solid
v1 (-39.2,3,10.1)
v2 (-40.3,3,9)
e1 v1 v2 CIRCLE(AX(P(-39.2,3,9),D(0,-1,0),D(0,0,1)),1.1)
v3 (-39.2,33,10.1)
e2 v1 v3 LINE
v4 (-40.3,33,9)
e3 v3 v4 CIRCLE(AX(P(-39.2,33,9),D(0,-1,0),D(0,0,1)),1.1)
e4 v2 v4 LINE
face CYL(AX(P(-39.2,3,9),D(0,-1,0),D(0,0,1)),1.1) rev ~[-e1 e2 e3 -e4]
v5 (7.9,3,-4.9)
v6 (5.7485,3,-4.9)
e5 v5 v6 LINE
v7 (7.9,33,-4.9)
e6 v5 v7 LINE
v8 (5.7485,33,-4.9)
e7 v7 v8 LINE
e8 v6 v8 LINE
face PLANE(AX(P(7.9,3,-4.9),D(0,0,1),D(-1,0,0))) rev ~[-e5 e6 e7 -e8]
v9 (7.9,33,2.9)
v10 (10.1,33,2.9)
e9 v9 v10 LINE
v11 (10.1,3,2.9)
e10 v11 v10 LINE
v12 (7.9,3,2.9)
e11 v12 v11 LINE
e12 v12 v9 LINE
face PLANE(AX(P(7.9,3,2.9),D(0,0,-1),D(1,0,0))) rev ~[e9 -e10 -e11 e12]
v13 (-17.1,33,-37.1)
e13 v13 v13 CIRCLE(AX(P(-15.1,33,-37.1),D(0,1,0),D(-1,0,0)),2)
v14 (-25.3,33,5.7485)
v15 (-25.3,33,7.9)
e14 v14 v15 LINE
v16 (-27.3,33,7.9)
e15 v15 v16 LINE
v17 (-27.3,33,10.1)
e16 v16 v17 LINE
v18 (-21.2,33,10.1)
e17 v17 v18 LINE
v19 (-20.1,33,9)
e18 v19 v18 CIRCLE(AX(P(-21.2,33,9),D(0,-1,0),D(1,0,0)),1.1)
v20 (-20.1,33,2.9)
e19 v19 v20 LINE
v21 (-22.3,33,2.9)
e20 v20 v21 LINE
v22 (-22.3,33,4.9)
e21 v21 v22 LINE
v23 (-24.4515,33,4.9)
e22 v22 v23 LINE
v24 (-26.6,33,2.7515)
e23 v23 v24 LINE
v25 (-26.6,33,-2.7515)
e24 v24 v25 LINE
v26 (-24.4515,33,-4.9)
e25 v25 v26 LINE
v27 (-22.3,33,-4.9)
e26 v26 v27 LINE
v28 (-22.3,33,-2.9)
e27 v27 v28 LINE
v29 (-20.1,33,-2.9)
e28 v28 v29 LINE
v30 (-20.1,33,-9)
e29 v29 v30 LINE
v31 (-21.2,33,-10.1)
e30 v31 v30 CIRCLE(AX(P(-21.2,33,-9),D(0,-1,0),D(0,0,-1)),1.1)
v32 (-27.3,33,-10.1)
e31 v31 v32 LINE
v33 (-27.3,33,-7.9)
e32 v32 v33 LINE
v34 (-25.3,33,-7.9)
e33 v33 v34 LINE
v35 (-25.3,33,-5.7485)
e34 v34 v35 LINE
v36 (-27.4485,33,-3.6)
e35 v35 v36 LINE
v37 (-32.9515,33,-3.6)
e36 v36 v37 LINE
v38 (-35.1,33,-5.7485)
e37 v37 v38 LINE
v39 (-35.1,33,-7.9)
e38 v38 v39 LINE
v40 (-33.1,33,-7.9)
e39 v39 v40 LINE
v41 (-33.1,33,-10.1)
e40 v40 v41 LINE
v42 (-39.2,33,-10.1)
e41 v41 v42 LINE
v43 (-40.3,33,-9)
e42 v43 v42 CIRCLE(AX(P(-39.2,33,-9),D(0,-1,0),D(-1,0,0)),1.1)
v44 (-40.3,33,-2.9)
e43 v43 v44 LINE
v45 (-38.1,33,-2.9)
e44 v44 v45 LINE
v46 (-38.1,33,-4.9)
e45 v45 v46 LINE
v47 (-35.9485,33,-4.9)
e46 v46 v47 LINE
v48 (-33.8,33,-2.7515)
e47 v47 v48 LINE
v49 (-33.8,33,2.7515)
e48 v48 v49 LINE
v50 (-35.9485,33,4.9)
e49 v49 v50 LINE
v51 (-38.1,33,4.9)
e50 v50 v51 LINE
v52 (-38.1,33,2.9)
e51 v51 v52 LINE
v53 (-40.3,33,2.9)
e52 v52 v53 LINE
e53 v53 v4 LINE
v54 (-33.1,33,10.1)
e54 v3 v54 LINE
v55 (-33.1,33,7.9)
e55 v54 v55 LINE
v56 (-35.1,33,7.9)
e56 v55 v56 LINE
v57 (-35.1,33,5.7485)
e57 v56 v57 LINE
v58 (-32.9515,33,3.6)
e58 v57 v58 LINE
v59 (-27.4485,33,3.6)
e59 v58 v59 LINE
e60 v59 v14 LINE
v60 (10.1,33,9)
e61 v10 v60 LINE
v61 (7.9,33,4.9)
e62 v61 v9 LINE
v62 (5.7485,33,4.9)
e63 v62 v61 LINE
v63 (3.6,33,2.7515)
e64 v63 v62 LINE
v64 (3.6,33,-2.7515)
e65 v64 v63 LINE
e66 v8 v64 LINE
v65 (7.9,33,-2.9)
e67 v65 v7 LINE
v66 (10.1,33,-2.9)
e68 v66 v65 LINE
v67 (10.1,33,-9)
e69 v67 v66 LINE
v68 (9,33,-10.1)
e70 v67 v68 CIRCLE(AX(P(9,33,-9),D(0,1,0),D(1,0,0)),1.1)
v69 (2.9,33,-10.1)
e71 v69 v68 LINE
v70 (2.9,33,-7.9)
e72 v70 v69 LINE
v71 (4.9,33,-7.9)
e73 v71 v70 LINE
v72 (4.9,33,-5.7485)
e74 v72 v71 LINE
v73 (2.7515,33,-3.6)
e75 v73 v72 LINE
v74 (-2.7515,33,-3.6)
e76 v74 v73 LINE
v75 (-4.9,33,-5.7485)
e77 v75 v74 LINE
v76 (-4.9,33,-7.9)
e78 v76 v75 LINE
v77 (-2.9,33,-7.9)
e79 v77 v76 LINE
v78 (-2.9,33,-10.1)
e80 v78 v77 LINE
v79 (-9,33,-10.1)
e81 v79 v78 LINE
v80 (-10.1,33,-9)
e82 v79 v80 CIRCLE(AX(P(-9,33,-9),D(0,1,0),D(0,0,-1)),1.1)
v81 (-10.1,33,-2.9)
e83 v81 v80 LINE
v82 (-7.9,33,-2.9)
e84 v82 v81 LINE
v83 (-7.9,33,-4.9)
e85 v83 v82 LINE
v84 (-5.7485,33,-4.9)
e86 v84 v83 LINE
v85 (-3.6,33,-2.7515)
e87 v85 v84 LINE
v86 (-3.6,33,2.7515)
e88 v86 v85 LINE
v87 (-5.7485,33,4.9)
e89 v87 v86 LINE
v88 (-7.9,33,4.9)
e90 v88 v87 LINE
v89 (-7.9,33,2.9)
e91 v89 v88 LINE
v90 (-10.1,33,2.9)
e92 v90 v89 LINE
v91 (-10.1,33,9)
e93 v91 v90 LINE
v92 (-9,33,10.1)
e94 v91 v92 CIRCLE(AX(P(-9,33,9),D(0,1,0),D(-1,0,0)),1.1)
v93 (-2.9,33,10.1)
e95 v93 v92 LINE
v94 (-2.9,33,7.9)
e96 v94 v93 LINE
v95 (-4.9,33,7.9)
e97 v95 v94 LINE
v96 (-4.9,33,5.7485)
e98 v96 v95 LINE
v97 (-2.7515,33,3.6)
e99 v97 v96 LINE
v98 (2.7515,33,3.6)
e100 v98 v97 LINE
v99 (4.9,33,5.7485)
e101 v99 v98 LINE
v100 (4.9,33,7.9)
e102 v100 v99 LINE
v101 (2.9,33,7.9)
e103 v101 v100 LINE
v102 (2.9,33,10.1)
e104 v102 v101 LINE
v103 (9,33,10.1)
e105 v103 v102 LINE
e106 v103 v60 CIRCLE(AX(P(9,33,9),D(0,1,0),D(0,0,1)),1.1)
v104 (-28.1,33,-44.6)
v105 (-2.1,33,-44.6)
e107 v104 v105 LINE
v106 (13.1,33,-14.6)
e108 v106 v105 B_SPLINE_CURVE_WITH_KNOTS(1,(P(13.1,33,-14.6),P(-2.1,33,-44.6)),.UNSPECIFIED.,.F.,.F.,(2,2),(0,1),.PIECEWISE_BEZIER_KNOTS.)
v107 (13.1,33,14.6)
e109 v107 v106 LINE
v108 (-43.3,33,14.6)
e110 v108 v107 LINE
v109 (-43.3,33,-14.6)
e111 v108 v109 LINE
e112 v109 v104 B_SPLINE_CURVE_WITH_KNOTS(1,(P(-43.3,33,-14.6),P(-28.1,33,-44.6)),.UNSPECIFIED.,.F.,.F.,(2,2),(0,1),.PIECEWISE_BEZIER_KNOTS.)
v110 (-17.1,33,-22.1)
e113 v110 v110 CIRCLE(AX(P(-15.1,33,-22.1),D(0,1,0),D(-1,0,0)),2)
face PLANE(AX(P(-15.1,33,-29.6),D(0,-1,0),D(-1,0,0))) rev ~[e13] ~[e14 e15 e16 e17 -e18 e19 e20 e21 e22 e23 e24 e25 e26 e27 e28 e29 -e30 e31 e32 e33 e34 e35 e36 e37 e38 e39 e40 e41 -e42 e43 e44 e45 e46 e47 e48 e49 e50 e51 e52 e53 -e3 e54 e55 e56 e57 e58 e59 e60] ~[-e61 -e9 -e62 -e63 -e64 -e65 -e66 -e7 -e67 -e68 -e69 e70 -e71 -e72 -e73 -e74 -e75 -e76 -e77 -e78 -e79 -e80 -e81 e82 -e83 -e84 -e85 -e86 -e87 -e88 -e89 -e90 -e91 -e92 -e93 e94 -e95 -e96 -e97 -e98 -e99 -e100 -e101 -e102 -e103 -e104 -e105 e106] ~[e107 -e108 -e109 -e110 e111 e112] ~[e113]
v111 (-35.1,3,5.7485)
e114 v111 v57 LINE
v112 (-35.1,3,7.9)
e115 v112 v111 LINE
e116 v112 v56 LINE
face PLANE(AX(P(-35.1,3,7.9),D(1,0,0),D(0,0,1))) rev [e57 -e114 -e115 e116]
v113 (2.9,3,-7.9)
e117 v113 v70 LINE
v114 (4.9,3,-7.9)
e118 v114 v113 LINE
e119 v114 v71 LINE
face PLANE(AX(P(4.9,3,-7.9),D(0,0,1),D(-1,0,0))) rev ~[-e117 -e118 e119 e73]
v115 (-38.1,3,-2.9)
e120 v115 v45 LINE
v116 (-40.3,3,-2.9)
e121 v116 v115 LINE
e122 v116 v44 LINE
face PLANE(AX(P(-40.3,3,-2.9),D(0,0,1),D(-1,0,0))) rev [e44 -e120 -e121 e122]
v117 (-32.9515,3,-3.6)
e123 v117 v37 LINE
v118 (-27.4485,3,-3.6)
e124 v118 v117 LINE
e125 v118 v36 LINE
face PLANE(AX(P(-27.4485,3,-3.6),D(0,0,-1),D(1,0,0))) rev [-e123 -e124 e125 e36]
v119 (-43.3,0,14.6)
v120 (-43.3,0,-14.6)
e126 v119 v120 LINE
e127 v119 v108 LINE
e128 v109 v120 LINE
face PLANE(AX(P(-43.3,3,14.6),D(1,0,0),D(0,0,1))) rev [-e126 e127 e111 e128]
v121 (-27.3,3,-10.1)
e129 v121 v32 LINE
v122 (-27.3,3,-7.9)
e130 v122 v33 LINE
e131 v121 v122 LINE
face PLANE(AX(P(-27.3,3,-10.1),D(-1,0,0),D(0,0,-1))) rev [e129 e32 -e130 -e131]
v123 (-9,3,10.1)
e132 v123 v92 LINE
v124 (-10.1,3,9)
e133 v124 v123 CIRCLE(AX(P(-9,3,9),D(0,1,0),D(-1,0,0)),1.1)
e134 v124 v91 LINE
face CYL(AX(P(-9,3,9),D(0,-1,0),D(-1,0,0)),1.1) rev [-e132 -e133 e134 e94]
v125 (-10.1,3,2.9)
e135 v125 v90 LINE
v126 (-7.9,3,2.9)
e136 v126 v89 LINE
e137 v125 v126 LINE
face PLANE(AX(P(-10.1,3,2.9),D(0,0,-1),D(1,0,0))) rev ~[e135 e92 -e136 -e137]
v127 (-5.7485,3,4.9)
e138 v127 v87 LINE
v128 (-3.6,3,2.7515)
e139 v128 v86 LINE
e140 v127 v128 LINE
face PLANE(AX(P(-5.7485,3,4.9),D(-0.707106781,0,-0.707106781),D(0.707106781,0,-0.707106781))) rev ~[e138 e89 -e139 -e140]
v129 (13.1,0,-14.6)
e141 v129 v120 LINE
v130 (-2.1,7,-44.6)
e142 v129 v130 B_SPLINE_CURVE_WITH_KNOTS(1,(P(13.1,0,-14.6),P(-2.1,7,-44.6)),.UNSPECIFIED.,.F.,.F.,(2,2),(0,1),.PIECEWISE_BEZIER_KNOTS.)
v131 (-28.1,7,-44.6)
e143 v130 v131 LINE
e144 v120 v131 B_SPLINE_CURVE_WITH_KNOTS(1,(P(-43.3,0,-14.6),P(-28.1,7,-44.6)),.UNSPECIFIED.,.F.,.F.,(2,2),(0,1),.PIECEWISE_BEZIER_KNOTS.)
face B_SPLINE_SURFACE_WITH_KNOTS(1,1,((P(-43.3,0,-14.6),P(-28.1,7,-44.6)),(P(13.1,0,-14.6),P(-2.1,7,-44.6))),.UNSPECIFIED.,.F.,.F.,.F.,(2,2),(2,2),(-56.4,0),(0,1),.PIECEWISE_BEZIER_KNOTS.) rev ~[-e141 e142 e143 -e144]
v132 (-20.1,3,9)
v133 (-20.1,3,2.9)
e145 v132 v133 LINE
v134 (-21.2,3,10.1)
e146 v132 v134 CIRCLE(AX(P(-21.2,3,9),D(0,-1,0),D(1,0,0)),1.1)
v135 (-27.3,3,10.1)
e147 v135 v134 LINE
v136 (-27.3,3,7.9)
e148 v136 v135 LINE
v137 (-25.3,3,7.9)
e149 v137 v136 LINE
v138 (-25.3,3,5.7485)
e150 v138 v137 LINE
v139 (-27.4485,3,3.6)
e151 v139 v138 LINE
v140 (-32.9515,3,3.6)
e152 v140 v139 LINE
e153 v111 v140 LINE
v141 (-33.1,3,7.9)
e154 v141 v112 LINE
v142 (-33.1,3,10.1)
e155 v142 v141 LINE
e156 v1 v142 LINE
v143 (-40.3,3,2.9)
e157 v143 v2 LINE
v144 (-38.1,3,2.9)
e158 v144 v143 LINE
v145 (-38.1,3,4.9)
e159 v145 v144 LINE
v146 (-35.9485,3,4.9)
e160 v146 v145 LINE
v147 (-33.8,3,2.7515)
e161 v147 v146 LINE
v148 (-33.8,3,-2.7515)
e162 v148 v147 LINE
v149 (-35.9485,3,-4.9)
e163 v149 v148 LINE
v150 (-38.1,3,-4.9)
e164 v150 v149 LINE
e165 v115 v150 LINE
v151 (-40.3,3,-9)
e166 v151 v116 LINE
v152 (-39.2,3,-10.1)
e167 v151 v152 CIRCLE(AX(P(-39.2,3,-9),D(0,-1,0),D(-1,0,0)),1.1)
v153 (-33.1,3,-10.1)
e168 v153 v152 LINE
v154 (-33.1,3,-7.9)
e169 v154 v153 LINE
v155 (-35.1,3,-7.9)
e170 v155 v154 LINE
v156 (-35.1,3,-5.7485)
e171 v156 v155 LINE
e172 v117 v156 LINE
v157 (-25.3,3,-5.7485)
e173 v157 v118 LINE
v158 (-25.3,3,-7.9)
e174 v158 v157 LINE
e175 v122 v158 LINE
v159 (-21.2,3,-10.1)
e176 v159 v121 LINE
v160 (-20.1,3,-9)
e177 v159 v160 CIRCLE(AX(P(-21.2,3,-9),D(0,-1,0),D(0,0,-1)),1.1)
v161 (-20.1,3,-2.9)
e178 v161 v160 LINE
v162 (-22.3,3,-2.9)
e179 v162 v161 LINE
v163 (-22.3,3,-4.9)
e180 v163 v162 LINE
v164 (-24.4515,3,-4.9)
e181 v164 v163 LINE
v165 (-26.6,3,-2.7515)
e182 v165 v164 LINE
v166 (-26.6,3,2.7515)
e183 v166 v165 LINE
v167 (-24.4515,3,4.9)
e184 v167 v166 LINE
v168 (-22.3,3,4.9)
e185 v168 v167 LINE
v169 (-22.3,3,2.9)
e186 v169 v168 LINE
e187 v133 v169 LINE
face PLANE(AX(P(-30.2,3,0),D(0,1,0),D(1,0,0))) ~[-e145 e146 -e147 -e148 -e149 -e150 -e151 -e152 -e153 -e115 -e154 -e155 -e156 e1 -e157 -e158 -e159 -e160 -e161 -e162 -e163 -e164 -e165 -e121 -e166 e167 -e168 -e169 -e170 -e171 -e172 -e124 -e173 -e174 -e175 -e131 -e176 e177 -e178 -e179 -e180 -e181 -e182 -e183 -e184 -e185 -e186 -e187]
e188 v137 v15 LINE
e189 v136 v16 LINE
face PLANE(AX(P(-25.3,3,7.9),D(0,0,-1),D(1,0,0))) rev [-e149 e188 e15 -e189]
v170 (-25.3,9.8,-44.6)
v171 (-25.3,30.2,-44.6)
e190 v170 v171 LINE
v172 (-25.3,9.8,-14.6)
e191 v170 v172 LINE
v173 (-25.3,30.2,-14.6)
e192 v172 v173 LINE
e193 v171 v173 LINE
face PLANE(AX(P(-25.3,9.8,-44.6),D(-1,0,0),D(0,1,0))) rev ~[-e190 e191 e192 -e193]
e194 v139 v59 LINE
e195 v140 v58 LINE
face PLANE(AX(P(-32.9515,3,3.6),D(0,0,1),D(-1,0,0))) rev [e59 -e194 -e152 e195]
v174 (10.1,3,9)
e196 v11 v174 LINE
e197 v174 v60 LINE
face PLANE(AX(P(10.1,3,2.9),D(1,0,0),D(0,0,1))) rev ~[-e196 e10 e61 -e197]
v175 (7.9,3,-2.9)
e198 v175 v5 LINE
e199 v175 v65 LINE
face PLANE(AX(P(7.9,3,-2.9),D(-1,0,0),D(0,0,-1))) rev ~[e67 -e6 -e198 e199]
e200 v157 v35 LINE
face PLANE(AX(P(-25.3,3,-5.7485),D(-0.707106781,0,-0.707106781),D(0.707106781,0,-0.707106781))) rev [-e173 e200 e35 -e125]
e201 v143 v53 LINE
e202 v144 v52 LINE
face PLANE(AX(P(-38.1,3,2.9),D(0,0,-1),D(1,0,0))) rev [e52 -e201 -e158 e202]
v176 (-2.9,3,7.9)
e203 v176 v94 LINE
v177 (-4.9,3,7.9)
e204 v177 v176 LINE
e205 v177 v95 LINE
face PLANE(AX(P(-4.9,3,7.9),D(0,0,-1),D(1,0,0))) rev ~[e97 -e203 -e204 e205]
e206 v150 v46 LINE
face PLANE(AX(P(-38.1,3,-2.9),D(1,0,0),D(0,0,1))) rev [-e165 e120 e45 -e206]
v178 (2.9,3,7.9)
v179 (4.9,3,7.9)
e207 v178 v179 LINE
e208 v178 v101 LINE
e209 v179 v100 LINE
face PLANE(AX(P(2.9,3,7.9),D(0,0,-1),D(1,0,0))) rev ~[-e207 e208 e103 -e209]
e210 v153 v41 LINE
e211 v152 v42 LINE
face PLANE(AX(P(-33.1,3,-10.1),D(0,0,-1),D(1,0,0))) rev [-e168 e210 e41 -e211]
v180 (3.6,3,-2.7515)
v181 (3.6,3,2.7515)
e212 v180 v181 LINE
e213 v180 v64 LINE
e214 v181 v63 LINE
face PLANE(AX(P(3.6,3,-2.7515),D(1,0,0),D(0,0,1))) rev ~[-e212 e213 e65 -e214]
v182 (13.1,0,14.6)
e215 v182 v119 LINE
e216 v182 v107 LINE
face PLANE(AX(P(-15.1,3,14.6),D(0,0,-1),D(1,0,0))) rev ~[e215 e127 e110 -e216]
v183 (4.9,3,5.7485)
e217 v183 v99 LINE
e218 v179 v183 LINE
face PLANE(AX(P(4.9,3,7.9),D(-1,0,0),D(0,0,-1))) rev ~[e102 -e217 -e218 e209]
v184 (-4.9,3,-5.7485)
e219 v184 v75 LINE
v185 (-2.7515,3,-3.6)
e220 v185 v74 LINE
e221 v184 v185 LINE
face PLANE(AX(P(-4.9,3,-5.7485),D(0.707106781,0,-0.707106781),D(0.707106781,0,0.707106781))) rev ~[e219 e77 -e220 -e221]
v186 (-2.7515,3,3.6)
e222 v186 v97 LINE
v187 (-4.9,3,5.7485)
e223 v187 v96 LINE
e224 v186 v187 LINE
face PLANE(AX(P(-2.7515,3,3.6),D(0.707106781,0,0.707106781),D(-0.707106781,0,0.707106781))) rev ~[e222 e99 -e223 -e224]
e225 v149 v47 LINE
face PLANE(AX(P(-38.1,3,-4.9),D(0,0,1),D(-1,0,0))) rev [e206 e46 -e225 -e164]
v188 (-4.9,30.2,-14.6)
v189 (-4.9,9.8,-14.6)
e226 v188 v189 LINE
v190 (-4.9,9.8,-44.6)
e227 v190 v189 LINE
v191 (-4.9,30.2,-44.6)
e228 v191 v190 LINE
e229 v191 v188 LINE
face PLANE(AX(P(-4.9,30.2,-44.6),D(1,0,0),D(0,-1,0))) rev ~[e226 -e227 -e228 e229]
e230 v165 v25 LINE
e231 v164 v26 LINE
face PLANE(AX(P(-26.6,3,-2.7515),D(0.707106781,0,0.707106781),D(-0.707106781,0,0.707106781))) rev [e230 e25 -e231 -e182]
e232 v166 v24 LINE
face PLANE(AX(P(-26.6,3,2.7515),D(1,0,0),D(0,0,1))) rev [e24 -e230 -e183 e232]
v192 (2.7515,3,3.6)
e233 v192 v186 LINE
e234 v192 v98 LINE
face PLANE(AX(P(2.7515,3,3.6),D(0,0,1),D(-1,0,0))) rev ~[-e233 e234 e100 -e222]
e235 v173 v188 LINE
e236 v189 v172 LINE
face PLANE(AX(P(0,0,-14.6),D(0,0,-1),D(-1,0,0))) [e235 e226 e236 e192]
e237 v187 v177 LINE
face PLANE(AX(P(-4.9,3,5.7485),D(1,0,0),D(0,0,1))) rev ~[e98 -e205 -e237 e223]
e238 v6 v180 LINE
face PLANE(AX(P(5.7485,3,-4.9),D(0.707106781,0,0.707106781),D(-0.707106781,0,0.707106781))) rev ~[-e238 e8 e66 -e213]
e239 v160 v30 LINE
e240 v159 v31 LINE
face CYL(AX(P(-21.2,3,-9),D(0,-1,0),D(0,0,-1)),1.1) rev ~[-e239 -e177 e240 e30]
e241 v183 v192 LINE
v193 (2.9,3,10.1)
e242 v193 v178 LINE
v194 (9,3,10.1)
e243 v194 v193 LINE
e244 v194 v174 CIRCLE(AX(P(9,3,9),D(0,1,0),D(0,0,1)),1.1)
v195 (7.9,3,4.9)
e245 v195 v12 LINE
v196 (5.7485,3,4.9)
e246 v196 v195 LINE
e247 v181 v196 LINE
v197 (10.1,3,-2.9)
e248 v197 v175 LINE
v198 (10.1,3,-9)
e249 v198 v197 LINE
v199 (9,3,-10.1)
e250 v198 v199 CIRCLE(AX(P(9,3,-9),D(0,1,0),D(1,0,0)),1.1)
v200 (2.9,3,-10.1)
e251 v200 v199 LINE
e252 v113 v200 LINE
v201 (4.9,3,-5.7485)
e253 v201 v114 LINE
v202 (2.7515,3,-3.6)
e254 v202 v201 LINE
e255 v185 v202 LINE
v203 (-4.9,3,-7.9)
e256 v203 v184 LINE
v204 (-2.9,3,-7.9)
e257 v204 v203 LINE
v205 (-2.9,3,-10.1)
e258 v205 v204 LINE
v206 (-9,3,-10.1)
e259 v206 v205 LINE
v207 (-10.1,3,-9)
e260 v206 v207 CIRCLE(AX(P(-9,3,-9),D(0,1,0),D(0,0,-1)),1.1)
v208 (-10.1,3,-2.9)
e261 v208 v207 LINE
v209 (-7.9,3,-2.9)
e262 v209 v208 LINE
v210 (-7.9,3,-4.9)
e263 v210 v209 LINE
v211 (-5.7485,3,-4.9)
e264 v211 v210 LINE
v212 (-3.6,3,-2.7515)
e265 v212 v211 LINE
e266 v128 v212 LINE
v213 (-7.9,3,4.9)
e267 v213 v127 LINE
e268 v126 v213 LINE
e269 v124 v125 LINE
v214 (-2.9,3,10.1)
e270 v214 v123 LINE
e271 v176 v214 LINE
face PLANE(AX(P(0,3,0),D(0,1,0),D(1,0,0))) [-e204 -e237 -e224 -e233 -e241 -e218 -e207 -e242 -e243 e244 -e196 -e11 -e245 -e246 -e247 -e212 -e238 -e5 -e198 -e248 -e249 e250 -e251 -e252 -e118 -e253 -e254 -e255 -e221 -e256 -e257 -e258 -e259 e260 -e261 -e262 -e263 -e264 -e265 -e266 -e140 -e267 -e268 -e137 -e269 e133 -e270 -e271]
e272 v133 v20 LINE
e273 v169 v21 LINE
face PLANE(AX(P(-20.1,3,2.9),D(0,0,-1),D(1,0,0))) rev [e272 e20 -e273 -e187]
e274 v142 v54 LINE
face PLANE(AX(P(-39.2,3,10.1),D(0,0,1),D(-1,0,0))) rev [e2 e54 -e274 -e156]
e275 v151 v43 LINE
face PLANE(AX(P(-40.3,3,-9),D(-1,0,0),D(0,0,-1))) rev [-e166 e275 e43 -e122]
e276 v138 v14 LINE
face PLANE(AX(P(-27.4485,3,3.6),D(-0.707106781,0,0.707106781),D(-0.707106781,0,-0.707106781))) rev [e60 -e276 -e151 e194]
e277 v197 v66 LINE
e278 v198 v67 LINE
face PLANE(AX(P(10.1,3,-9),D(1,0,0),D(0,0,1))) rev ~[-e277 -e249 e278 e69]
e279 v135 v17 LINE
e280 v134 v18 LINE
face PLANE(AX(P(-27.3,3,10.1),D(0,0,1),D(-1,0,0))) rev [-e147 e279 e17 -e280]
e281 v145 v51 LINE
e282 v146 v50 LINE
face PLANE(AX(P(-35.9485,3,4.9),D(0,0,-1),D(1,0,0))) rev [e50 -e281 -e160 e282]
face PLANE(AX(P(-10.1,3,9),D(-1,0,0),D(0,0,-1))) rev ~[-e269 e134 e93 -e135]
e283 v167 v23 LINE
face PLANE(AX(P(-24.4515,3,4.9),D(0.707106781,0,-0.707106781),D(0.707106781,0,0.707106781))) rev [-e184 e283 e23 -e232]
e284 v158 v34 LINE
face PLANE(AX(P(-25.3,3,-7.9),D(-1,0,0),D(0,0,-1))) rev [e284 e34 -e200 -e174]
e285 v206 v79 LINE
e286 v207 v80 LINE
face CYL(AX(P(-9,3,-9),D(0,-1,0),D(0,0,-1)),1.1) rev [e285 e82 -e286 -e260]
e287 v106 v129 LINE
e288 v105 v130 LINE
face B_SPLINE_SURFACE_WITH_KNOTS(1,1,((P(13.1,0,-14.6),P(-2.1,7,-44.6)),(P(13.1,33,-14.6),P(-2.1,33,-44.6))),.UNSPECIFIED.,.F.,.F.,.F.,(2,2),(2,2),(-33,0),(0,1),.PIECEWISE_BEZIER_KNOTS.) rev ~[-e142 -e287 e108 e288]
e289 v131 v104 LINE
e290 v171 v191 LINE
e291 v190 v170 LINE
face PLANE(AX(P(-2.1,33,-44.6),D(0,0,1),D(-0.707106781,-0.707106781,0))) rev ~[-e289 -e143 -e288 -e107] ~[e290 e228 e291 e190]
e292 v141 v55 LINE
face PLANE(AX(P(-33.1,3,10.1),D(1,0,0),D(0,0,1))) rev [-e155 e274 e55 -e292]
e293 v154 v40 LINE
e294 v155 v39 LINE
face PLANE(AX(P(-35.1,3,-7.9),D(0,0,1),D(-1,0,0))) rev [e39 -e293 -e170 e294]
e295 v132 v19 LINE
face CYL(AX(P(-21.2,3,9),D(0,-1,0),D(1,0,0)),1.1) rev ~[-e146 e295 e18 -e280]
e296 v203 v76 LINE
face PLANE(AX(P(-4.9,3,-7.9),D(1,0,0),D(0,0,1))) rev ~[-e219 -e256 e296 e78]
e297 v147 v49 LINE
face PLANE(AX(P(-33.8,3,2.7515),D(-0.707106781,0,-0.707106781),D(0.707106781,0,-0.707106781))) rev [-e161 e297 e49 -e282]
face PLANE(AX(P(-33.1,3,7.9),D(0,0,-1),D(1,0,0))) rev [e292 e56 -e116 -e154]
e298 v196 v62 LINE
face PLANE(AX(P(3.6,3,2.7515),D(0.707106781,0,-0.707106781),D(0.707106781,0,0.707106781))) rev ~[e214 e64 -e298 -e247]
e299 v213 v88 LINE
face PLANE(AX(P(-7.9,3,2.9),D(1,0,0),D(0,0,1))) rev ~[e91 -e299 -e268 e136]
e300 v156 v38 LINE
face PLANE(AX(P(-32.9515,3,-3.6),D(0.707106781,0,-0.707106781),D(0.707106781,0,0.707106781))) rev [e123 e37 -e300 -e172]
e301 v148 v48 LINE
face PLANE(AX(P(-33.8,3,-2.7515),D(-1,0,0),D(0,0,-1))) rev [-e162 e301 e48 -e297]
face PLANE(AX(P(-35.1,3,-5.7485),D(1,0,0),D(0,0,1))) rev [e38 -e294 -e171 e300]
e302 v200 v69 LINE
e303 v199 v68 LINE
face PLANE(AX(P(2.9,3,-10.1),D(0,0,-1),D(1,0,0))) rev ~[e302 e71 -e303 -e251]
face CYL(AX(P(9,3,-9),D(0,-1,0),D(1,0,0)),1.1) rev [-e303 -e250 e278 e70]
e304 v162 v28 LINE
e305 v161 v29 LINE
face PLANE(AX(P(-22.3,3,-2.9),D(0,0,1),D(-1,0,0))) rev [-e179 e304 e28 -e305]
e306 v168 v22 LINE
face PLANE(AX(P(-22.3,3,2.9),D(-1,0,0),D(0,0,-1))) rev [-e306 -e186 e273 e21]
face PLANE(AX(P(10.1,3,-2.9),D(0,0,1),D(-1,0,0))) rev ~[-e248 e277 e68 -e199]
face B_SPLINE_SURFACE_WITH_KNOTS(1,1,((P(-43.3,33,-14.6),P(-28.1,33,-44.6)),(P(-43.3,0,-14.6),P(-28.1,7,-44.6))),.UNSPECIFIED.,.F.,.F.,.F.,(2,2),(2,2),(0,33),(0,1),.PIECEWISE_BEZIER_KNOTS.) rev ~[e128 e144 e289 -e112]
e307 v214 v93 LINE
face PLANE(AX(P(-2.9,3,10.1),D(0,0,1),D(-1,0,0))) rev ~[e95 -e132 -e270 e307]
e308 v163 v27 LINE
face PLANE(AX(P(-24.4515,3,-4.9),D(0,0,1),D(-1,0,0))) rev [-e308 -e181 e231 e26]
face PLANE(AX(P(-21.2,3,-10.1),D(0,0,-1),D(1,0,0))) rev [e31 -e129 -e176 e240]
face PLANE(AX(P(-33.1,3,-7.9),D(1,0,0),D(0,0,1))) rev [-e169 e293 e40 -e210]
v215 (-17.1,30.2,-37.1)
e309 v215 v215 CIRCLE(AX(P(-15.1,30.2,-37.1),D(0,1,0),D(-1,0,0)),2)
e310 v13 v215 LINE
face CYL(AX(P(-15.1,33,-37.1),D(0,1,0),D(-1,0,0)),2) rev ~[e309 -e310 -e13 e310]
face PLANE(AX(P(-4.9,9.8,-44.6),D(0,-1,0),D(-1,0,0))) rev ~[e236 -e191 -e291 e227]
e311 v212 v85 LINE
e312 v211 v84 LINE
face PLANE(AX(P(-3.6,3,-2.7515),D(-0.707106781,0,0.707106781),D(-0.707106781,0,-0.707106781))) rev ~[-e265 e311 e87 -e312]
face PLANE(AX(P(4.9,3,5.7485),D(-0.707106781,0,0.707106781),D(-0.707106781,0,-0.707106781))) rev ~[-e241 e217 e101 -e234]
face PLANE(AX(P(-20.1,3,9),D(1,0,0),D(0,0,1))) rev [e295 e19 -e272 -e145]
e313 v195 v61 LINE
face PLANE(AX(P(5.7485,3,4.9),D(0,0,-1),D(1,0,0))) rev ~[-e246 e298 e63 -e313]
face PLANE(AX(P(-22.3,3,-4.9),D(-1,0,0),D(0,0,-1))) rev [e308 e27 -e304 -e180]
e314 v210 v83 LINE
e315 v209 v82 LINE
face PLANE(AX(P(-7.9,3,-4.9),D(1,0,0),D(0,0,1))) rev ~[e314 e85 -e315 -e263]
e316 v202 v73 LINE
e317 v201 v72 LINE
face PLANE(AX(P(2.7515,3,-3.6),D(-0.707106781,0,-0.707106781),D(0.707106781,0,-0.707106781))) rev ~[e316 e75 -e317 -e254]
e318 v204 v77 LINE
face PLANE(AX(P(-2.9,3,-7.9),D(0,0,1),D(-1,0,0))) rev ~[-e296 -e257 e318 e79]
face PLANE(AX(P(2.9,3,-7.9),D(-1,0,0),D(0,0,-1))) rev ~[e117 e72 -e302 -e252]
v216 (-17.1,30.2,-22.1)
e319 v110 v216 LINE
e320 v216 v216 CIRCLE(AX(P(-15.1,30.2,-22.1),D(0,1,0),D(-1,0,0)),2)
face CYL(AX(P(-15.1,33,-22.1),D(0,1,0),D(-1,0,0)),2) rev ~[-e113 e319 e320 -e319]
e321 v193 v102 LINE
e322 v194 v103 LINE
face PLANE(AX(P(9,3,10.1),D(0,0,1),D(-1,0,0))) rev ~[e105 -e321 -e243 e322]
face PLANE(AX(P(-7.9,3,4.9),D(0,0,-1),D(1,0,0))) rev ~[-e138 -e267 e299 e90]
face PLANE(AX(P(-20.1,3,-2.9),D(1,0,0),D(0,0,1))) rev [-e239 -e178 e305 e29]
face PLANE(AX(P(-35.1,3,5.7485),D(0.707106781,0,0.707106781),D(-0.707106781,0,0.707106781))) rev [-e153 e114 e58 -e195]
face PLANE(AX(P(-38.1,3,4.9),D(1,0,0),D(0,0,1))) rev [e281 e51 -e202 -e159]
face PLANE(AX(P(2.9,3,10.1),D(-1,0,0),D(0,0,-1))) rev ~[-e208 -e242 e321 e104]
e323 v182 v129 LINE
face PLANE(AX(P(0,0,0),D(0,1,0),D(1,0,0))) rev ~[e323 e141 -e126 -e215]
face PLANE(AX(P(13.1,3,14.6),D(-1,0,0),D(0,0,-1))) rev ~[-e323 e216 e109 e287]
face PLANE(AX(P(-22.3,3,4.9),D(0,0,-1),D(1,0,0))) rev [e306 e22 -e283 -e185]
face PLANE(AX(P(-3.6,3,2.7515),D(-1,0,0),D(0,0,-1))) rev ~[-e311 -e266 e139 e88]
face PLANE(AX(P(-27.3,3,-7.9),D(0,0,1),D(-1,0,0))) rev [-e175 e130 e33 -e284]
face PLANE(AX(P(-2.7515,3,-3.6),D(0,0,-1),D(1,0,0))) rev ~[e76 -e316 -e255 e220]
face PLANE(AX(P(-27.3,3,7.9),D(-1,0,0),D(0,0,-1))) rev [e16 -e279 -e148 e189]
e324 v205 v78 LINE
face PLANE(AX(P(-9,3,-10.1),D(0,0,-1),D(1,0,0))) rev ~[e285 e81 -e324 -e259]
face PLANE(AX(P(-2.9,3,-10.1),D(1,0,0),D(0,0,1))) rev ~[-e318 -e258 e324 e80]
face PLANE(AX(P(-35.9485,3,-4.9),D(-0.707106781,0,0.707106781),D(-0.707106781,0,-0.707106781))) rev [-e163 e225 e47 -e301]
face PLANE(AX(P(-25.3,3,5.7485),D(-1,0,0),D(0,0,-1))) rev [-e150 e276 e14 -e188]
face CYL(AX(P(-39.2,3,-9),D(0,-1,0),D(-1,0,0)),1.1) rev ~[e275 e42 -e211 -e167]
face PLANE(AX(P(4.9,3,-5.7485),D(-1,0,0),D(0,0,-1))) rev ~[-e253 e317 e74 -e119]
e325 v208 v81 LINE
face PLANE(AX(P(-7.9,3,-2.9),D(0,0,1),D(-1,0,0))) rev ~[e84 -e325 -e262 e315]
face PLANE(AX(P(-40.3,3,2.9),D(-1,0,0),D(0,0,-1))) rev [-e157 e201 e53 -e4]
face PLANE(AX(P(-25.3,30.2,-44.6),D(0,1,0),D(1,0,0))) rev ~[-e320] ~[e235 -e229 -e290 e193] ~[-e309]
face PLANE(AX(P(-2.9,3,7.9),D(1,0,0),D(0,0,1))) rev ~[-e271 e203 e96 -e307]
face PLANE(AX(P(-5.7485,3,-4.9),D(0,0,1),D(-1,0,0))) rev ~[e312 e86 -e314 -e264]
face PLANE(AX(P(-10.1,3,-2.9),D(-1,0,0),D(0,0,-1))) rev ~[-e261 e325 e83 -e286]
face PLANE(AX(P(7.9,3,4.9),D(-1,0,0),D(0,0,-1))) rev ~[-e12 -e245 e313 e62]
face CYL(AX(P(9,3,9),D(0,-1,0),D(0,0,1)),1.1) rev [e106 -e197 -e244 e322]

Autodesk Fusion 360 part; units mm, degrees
sketch "Sketch1" plane through (0, 0, 0) normal (0, 1, 0) x (1, 0, 0)
  line L0 (7.9, 2.9) -> (7.9, 4.9)
  line L1 (-2.7515, -3.6) -> (-4.9, -5.7485)
  line L2 (2.9, -7.9) -> (4.9, -7.9)
  line L3 (-2.9, -7.9) -> (-2.9, -10.1)
  arc A0 (-10.1, -9) -> (-9, -10.1) centre (-9, -9) ccw
  line L4 (5.7485, 4.9) -> (3.6, 2.7515)
  line L5 (-7.9, 2.9) -> (-10.1, 2.9)
  line L6 (-4.9, -7.9) -> (-2.9, -7.9)
  line L7 (4.9, 5.7485) -> (4.9, 7.9)
  line L8 (10.1, 2.9) -> (7.9, 2.9)
  line L9 (9, -10.1) -> (2.9, -10.1)
  arc A1 (9, -10.1) -> (10.1, -9) centre (9, -9) ccw
  line L10 (4.9, -5.7485) -> (2.7515, -3.6)
  line L11 (5.7485, -4.9) -> (7.9, -4.9)
  line L12 (-10.1, 2.9) -> (-10.1, 9)
  line L13 (7.9, -2.9) -> (10.1, -2.9)
  line L14 (-3.6, 2.7515) -> (-5.7485, 4.9)
  line L15 (10.1, -2.9) -> (10.1, -9)
  line L16 (-2.9, 10.1) -> (-2.9, 7.9)
  line L17 (7.9, -4.9) -> (7.9, -2.9)
  line L18 (-3.6, -2.7515) -> (-3.6, 2.7515)
  line L19 (3.6, 2.7515) -> (3.6, -2.7515)
  line L20 (2.7515, -3.6) -> (-2.7515, -3.6)
  line L21 (-10.1, -9) -> (-10.1, -2.9)
  line L22 (10.1, 9) -> (10.1, 2.9)
  line L23 (2.9, 7.9) -> (2.9, 10.1)
  line L24 (7.9, 4.9) -> (5.7485, 4.9)
  line L25 (-2.9, -10.1) -> (-9, -10.1)
  line L26 (-2.7515, 3.6) -> (2.7515, 3.6)
  arc A2 (-9, 10.1) -> (-10.1, 9) centre (-9, 9) ccw
  line L27 (4.9, 7.9) -> (2.9, 7.9)
  line L28 (-7.9, -4.9) -> (-5.7485, -4.9)
  line L29 (2.9, 10.1) -> (9, 10.1)
  arc A3 (10.1, 9) -> (9, 10.1) centre (9, 9) ccw
  line L30 (-4.9, -5.7485) -> (-4.9, -7.9)
  line L31 (-7.9, -2.9) -> (-7.9, -4.9)
  line L32 (-4.9, 7.9) -> (-4.9, 5.7485)
  line L33 (2.7515, 3.6) -> (4.9, 5.7485)
  line L34 (-4.9, 5.7485) -> (-2.7515, 3.6)
  line L35 (-10.1, -2.9) -> (-7.9, -2.9)
  line L36 (3.6, -2.7515) -> (5.7485, -4.9)
  line L37 (4.9, -7.9) -> (4.9, -5.7485)
  line L38 (2.9, -10.1) -> (2.9, -7.9)
  line L39 (-5.7485, -4.9) -> (-3.6, -2.7515)
  line L40 (-7.9, 4.9) -> (-7.9, 2.9)
  line L41 (-2.9, 7.9) -> (-4.9, 7.9)
  line L42 (-9, 10.1) -> (-2.9, 10.1)
  line L43 (-5.7485, 4.9) -> (-7.9, 4.9)
  line L44 (-15.1, -14.6) -> (13.1, -14.6)
  line L45 (13.1, -14.6) -> (13.1, 14.6)
  line L46 (13.1, 14.6) -> (-15.1, 14.6)
  line L47 (-15.1, 14.6) -> (-15.1, -14.6)
  dimension "d1" = 3
  dimension "d2" = 5
  dimension "d3" = 4.5
  dimension "d4" = 4.5
extrude "Extrude1" add sketch "Sketch1" along normal blind 3 contours L0 L1 L2 L3 A0 L4 L5 L6 L7 L8 L9 A1 L10 L11 L12 L13 L14 L15 L16 L17 L18 L19 L20 L21 L22 L23 L24 L25 L26 A2 L27 L28 L29 A3 L30 L31 L32 L33 L34 L35 L36 L37 L38 L39 L40 L41 L42 L43 | L44 L45 L46 L47
extrude "Extrude2" add sketch "Sketch1" along normal blind 30 from surface at 3
mirror "Mirror1" about plane through (-15.1, 3, -14.6) normal (-1, 0, 0) of bodies 1 merged
ref_plane "WorkPlane1" through (-15.1, 16.5, -44.6) normal (0, 0, -1) x (-1, 0, 0)
sketch "Sketch2" plane through (0, 0, -44.6) normal (0, 0, -1) x (-1, 0, 0)
  line L0 (-13.1, 0) -> (43.3, 0)
  line L1 (43.3, 0) -> (43.3, 33)
  line L2 (43.3, 33) -> (-13.1, 33)
  line L3 (-13.1, 33) -> (-13.1, 0)
  line L4 (28.1, 33) -> (2.1, 33)
  line L5 (2.1, 33) -> (2.1, 7)
  line L6 (2.1, 7) -> (28.1, 7)
  line L7 (28.1, 7) -> (28.1, 33)
  line L8 (15.1, 33) -> (15.1, 0) construction
  line L9 (25.3, 30.2) -> (4.9, 30.2)
  line L10 (4.9, 30.2) -> (4.9, 9.8)
  line L11 (4.9, 9.8) -> (25.3, 9.8)
  line L12 (25.3, 9.8) -> (25.3, 30.2)
  dimension "d15" = 20.4
  dimension "d17" = 2.8
  dimension "d18" = 2.8
  dimension "d29" = 2.8
loft "Loft1" add profiles "Sketch2" section 1 face at (-5.7, 11, -14.6) section 2 contours L2 L4 L5 L6 L7 | L9 L10 L11 L12
extrude "Extrude3" cut sketch "Sketch2" against normal blind 30 contours L9 L10 L11 L12
sketch "Sketch3" plane through (0, 33, 0) normal (0, 1, 0) x (-1, 0, 0)
  line L0 (21.2, 10.1) -> (27.3, 10.1)
  line L1 (27.3, 10.1) -> (27.3, 7.9)
  line L2 (27.3, 7.9) -> (25.3, 7.9)
  line L3 (25.3, 7.9) -> (25.3, 5.7485)
  line L4 (25.3, 5.7485) -> (27.4485, 3.6)
  line L5 (27.4485, 3.6) -> (32.9515, 3.6)
  line L6 (32.9515, 3.6) -> (35.1, 5.7485)
  line L7 (35.1, 5.7485) -> (35.1, 7.9)
  line L8 (35.1, 7.9) -> (33.1, 7.9)
  line L9 (33.1, 7.9) -> (33.1, 10.1)
  line L10 (33.1, 10.1) -> (39.2, 10.1)
  arc A0 (40.3, 9) -> (39.2, 10.1) centre (39.2, 9) ccw
  line L11 (40.3, 9) -> (40.3, 2.9)
  line L12 (40.3, 2.9) -> (38.1, 2.9)
  line L13 (38.1, 2.9) -> (38.1, 4.9)
  line L14 (38.1, 4.9) -> (35.9485, 4.9)
  line L15 (35.9485, 4.9) -> (33.8, 2.7515)
  line L16 (33.8, 2.7515) -> (33.8, -2.7515)
  line L17 (33.8, -2.7515) -> (35.9485, -4.9)
  line L18 (35.9485, -4.9) -> (38.1, -4.9)
  line L19 (38.1, -4.9) -> (38.1, -2.9)
  line L20 (38.1, -2.9) -> (40.3, -2.9)
  line L21 (40.3, -2.9) -> (40.3, -9)
  arc A1 (39.2, -10.1) -> (40.3, -9) centre (39.2, -9) ccw
  line L22 (39.2, -10.1) -> (33.1, -10.1)
  line L23 (33.1, -10.1) -> (33.1, -7.9)
  line L24 (33.1, -7.9) -> (35.1, -7.9)
  line L25 (35.1, -7.9) -> (35.1, -5.7485)
  line L26 (35.1, -5.7485) -> (32.9515, -3.6)
  line L27 (32.9515, -3.6) -> (27.4485, -3.6)
  line L28 (27.4485, -3.6) -> (25.3, -5.7485)
  line L29 (25.3, -5.7485) -> (25.3, -7.9)
  line L30 (25.3, -7.9) -> (27.3, -7.9)
  line L31 (27.3, -7.9) -> (27.3, -10.1)
  line L32 (27.3, -10.1) -> (21.2, -10.1)
  arc A2 (20.1, -9) -> (21.2, -10.1) centre (21.2, -9) ccw
  line L33 (20.1, -9) -> (20.1, -2.9)
  line L34 (20.1, -2.9) -> (22.3, -2.9)
  line L35 (22.3, -2.9) -> (22.3, -4.9)
  line L36 (22.3, -4.9) -> (24.4515, -4.9)
  line L37 (24.4515, -4.9) -> (26.6, -2.7515)
  line L38 (26.6, -2.7515) -> (26.6, 2.7515)
  line L39 (26.6, 2.7515) -> (24.4515, 4.9)
  line L40 (24.4515, 4.9) -> (22.3, 4.9)
  line L41 (22.3, 4.9) -> (22.3, 2.9)
  line L42 (22.3, 2.9) -> (20.1, 2.9)
  line L43 (20.1, 2.9) -> (20.1, 9)
  arc A3 (21.2, 10.1) -> (20.1, 9) centre (21.2, 9) ccw
  line L44 (2.9, 10.1) -> (9, 10.1)
  arc A4 (10.1, 9) -> (9, 10.1) centre (9, 9) ccw
  line L45 (10.1, 9) -> (10.1, 2.9)
  line L46 (10.1, 2.9) -> (7.9, 2.9)
  line L47 (7.9, 2.9) -> (7.9, 4.9)
  line L48 (7.9, 4.9) -> (5.7485, 4.9)
  line L49 (5.7485, 4.9) -> (3.6, 2.7515)
  line L50 (3.6, 2.7515) -> (3.6, -2.7515)
  line L51 (3.6, -2.7515) -> (5.7485, -4.9)
  line L52 (5.7485, -4.9) -> (7.9, -4.9)
  line L53 (7.9, -4.9) -> (7.9, -2.9)
  line L54 (7.9, -2.9) -> (10.1, -2.9)
  line L55 (10.1, -2.9) -> (10.1, -9)
  arc A5 (9, -10.1) -> (10.1, -9) centre (9, -9) ccw
  line L56 (9, -10.1) -> (2.9, -10.1)
  line L57 (2.9, -10.1) -> (2.9, -7.9)
  line L58 (2.9, -7.9) -> (4.9, -7.9)
  line L59 (4.9, -7.9) -> (4.9, -5.7485)
  line L60 (4.9, -5.7485) -> (2.7515, -3.6)
  line L61 (2.7515, -3.6) -> (-2.7515, -3.6)
  line L62 (-2.7515, -3.6) -> (-4.9, -5.7485)
  line L63 (-4.9, -5.7485) -> (-4.9, -7.9)
  line L64 (-4.9, -7.9) -> (-2.9, -7.9)
  line L65 (-2.9, -7.9) -> (-2.9, -10.1)
  line L66 (-2.9, -10.1) -> (-9, -10.1)
  arc A6 (-10.1, -9) -> (-9, -10.1) centre (-9, -9) ccw
  line L67 (-10.1, -9) -> (-10.1, -2.9)
  line L68 (-10.1, -2.9) -> (-7.9, -2.9)
  line L69 (-7.9, -2.9) -> (-7.9, -4.9)
  line L70 (-7.9, -4.9) -> (-5.7485, -4.9)
  line L71 (-5.7485, -4.9) -> (-3.6, -2.7515)
  line L72 (-3.6, -2.7515) -> (-3.6, 2.7515)
  line L73 (-3.6, 2.7515) -> (-5.7485, 4.9)
  line L74 (-5.7485, 4.9) -> (-7.9, 4.9)
  line L75 (-7.9, 4.9) -> (-7.9, 2.9)
  line L76 (-7.9, 2.9) -> (-10.1, 2.9)
  line L77 (-10.1, 2.9) -> (-10.1, 9)
  arc A7 (-9, 10.1) -> (-10.1, 9) centre (-9, 9) ccw
  line L78 (-9, 10.1) -> (-2.9, 10.1)
  line L79 (-2.9, 10.1) -> (-2.9, 7.9)
  line L80 (-2.9, 7.9) -> (-4.9, 7.9)
  line L81 (-4.9, 7.9) -> (-4.9, 5.7485)
  line L82 (-4.9, 5.7485) -> (-2.7515, 3.6)
  line L83 (-2.7515, 3.6) -> (2.7515, 3.6)
  line L84 (2.7515, 3.6) -> (4.9, 5.7485)
  line L85 (4.9, 5.7485) -> (4.9, 7.9)
  line L86 (4.9, 7.9) -> (2.9, 7.9)
  line L87 (2.9, 7.9) -> (2.9, 10.1)
  line L88 (43.3, -14.6) -> (43.3, 14.6)
  line L89 (43.3, 14.6) -> (-13.1, 14.6)
  line L90 (-13.1, 14.6) -> (-13.1, -14.6)
  line L91 (-13.1, -14.6) -> (2.1, -44.6)
  line L92 (2.1, -44.6) -> (28.1, -44.6)
  line L93 (28.1, -44.6) -> (43.3, -14.6)
  line L94 (15.1, -44.6) -> (15.1, -17.6132) construction
  circle A8 centre (15.1, -37.1) radius 2
  circle A9 centre (15.1, -22.1) radius 2
  dimension "d23" = 4
  dimension "d24" = 7.5
  dimension "d25" = 15
extrude "Extrude4" cut sketch "Sketch3" against normal blind 4 contours A8 | A9
equation "d15 = 20 mm + 2 * gap"
equation "d17 = 3 mm - gap"
equation "d18 = 3 mm - gap"
equation "gap = 0.2 mm"
equation "d29 = 3 mm - gap"
